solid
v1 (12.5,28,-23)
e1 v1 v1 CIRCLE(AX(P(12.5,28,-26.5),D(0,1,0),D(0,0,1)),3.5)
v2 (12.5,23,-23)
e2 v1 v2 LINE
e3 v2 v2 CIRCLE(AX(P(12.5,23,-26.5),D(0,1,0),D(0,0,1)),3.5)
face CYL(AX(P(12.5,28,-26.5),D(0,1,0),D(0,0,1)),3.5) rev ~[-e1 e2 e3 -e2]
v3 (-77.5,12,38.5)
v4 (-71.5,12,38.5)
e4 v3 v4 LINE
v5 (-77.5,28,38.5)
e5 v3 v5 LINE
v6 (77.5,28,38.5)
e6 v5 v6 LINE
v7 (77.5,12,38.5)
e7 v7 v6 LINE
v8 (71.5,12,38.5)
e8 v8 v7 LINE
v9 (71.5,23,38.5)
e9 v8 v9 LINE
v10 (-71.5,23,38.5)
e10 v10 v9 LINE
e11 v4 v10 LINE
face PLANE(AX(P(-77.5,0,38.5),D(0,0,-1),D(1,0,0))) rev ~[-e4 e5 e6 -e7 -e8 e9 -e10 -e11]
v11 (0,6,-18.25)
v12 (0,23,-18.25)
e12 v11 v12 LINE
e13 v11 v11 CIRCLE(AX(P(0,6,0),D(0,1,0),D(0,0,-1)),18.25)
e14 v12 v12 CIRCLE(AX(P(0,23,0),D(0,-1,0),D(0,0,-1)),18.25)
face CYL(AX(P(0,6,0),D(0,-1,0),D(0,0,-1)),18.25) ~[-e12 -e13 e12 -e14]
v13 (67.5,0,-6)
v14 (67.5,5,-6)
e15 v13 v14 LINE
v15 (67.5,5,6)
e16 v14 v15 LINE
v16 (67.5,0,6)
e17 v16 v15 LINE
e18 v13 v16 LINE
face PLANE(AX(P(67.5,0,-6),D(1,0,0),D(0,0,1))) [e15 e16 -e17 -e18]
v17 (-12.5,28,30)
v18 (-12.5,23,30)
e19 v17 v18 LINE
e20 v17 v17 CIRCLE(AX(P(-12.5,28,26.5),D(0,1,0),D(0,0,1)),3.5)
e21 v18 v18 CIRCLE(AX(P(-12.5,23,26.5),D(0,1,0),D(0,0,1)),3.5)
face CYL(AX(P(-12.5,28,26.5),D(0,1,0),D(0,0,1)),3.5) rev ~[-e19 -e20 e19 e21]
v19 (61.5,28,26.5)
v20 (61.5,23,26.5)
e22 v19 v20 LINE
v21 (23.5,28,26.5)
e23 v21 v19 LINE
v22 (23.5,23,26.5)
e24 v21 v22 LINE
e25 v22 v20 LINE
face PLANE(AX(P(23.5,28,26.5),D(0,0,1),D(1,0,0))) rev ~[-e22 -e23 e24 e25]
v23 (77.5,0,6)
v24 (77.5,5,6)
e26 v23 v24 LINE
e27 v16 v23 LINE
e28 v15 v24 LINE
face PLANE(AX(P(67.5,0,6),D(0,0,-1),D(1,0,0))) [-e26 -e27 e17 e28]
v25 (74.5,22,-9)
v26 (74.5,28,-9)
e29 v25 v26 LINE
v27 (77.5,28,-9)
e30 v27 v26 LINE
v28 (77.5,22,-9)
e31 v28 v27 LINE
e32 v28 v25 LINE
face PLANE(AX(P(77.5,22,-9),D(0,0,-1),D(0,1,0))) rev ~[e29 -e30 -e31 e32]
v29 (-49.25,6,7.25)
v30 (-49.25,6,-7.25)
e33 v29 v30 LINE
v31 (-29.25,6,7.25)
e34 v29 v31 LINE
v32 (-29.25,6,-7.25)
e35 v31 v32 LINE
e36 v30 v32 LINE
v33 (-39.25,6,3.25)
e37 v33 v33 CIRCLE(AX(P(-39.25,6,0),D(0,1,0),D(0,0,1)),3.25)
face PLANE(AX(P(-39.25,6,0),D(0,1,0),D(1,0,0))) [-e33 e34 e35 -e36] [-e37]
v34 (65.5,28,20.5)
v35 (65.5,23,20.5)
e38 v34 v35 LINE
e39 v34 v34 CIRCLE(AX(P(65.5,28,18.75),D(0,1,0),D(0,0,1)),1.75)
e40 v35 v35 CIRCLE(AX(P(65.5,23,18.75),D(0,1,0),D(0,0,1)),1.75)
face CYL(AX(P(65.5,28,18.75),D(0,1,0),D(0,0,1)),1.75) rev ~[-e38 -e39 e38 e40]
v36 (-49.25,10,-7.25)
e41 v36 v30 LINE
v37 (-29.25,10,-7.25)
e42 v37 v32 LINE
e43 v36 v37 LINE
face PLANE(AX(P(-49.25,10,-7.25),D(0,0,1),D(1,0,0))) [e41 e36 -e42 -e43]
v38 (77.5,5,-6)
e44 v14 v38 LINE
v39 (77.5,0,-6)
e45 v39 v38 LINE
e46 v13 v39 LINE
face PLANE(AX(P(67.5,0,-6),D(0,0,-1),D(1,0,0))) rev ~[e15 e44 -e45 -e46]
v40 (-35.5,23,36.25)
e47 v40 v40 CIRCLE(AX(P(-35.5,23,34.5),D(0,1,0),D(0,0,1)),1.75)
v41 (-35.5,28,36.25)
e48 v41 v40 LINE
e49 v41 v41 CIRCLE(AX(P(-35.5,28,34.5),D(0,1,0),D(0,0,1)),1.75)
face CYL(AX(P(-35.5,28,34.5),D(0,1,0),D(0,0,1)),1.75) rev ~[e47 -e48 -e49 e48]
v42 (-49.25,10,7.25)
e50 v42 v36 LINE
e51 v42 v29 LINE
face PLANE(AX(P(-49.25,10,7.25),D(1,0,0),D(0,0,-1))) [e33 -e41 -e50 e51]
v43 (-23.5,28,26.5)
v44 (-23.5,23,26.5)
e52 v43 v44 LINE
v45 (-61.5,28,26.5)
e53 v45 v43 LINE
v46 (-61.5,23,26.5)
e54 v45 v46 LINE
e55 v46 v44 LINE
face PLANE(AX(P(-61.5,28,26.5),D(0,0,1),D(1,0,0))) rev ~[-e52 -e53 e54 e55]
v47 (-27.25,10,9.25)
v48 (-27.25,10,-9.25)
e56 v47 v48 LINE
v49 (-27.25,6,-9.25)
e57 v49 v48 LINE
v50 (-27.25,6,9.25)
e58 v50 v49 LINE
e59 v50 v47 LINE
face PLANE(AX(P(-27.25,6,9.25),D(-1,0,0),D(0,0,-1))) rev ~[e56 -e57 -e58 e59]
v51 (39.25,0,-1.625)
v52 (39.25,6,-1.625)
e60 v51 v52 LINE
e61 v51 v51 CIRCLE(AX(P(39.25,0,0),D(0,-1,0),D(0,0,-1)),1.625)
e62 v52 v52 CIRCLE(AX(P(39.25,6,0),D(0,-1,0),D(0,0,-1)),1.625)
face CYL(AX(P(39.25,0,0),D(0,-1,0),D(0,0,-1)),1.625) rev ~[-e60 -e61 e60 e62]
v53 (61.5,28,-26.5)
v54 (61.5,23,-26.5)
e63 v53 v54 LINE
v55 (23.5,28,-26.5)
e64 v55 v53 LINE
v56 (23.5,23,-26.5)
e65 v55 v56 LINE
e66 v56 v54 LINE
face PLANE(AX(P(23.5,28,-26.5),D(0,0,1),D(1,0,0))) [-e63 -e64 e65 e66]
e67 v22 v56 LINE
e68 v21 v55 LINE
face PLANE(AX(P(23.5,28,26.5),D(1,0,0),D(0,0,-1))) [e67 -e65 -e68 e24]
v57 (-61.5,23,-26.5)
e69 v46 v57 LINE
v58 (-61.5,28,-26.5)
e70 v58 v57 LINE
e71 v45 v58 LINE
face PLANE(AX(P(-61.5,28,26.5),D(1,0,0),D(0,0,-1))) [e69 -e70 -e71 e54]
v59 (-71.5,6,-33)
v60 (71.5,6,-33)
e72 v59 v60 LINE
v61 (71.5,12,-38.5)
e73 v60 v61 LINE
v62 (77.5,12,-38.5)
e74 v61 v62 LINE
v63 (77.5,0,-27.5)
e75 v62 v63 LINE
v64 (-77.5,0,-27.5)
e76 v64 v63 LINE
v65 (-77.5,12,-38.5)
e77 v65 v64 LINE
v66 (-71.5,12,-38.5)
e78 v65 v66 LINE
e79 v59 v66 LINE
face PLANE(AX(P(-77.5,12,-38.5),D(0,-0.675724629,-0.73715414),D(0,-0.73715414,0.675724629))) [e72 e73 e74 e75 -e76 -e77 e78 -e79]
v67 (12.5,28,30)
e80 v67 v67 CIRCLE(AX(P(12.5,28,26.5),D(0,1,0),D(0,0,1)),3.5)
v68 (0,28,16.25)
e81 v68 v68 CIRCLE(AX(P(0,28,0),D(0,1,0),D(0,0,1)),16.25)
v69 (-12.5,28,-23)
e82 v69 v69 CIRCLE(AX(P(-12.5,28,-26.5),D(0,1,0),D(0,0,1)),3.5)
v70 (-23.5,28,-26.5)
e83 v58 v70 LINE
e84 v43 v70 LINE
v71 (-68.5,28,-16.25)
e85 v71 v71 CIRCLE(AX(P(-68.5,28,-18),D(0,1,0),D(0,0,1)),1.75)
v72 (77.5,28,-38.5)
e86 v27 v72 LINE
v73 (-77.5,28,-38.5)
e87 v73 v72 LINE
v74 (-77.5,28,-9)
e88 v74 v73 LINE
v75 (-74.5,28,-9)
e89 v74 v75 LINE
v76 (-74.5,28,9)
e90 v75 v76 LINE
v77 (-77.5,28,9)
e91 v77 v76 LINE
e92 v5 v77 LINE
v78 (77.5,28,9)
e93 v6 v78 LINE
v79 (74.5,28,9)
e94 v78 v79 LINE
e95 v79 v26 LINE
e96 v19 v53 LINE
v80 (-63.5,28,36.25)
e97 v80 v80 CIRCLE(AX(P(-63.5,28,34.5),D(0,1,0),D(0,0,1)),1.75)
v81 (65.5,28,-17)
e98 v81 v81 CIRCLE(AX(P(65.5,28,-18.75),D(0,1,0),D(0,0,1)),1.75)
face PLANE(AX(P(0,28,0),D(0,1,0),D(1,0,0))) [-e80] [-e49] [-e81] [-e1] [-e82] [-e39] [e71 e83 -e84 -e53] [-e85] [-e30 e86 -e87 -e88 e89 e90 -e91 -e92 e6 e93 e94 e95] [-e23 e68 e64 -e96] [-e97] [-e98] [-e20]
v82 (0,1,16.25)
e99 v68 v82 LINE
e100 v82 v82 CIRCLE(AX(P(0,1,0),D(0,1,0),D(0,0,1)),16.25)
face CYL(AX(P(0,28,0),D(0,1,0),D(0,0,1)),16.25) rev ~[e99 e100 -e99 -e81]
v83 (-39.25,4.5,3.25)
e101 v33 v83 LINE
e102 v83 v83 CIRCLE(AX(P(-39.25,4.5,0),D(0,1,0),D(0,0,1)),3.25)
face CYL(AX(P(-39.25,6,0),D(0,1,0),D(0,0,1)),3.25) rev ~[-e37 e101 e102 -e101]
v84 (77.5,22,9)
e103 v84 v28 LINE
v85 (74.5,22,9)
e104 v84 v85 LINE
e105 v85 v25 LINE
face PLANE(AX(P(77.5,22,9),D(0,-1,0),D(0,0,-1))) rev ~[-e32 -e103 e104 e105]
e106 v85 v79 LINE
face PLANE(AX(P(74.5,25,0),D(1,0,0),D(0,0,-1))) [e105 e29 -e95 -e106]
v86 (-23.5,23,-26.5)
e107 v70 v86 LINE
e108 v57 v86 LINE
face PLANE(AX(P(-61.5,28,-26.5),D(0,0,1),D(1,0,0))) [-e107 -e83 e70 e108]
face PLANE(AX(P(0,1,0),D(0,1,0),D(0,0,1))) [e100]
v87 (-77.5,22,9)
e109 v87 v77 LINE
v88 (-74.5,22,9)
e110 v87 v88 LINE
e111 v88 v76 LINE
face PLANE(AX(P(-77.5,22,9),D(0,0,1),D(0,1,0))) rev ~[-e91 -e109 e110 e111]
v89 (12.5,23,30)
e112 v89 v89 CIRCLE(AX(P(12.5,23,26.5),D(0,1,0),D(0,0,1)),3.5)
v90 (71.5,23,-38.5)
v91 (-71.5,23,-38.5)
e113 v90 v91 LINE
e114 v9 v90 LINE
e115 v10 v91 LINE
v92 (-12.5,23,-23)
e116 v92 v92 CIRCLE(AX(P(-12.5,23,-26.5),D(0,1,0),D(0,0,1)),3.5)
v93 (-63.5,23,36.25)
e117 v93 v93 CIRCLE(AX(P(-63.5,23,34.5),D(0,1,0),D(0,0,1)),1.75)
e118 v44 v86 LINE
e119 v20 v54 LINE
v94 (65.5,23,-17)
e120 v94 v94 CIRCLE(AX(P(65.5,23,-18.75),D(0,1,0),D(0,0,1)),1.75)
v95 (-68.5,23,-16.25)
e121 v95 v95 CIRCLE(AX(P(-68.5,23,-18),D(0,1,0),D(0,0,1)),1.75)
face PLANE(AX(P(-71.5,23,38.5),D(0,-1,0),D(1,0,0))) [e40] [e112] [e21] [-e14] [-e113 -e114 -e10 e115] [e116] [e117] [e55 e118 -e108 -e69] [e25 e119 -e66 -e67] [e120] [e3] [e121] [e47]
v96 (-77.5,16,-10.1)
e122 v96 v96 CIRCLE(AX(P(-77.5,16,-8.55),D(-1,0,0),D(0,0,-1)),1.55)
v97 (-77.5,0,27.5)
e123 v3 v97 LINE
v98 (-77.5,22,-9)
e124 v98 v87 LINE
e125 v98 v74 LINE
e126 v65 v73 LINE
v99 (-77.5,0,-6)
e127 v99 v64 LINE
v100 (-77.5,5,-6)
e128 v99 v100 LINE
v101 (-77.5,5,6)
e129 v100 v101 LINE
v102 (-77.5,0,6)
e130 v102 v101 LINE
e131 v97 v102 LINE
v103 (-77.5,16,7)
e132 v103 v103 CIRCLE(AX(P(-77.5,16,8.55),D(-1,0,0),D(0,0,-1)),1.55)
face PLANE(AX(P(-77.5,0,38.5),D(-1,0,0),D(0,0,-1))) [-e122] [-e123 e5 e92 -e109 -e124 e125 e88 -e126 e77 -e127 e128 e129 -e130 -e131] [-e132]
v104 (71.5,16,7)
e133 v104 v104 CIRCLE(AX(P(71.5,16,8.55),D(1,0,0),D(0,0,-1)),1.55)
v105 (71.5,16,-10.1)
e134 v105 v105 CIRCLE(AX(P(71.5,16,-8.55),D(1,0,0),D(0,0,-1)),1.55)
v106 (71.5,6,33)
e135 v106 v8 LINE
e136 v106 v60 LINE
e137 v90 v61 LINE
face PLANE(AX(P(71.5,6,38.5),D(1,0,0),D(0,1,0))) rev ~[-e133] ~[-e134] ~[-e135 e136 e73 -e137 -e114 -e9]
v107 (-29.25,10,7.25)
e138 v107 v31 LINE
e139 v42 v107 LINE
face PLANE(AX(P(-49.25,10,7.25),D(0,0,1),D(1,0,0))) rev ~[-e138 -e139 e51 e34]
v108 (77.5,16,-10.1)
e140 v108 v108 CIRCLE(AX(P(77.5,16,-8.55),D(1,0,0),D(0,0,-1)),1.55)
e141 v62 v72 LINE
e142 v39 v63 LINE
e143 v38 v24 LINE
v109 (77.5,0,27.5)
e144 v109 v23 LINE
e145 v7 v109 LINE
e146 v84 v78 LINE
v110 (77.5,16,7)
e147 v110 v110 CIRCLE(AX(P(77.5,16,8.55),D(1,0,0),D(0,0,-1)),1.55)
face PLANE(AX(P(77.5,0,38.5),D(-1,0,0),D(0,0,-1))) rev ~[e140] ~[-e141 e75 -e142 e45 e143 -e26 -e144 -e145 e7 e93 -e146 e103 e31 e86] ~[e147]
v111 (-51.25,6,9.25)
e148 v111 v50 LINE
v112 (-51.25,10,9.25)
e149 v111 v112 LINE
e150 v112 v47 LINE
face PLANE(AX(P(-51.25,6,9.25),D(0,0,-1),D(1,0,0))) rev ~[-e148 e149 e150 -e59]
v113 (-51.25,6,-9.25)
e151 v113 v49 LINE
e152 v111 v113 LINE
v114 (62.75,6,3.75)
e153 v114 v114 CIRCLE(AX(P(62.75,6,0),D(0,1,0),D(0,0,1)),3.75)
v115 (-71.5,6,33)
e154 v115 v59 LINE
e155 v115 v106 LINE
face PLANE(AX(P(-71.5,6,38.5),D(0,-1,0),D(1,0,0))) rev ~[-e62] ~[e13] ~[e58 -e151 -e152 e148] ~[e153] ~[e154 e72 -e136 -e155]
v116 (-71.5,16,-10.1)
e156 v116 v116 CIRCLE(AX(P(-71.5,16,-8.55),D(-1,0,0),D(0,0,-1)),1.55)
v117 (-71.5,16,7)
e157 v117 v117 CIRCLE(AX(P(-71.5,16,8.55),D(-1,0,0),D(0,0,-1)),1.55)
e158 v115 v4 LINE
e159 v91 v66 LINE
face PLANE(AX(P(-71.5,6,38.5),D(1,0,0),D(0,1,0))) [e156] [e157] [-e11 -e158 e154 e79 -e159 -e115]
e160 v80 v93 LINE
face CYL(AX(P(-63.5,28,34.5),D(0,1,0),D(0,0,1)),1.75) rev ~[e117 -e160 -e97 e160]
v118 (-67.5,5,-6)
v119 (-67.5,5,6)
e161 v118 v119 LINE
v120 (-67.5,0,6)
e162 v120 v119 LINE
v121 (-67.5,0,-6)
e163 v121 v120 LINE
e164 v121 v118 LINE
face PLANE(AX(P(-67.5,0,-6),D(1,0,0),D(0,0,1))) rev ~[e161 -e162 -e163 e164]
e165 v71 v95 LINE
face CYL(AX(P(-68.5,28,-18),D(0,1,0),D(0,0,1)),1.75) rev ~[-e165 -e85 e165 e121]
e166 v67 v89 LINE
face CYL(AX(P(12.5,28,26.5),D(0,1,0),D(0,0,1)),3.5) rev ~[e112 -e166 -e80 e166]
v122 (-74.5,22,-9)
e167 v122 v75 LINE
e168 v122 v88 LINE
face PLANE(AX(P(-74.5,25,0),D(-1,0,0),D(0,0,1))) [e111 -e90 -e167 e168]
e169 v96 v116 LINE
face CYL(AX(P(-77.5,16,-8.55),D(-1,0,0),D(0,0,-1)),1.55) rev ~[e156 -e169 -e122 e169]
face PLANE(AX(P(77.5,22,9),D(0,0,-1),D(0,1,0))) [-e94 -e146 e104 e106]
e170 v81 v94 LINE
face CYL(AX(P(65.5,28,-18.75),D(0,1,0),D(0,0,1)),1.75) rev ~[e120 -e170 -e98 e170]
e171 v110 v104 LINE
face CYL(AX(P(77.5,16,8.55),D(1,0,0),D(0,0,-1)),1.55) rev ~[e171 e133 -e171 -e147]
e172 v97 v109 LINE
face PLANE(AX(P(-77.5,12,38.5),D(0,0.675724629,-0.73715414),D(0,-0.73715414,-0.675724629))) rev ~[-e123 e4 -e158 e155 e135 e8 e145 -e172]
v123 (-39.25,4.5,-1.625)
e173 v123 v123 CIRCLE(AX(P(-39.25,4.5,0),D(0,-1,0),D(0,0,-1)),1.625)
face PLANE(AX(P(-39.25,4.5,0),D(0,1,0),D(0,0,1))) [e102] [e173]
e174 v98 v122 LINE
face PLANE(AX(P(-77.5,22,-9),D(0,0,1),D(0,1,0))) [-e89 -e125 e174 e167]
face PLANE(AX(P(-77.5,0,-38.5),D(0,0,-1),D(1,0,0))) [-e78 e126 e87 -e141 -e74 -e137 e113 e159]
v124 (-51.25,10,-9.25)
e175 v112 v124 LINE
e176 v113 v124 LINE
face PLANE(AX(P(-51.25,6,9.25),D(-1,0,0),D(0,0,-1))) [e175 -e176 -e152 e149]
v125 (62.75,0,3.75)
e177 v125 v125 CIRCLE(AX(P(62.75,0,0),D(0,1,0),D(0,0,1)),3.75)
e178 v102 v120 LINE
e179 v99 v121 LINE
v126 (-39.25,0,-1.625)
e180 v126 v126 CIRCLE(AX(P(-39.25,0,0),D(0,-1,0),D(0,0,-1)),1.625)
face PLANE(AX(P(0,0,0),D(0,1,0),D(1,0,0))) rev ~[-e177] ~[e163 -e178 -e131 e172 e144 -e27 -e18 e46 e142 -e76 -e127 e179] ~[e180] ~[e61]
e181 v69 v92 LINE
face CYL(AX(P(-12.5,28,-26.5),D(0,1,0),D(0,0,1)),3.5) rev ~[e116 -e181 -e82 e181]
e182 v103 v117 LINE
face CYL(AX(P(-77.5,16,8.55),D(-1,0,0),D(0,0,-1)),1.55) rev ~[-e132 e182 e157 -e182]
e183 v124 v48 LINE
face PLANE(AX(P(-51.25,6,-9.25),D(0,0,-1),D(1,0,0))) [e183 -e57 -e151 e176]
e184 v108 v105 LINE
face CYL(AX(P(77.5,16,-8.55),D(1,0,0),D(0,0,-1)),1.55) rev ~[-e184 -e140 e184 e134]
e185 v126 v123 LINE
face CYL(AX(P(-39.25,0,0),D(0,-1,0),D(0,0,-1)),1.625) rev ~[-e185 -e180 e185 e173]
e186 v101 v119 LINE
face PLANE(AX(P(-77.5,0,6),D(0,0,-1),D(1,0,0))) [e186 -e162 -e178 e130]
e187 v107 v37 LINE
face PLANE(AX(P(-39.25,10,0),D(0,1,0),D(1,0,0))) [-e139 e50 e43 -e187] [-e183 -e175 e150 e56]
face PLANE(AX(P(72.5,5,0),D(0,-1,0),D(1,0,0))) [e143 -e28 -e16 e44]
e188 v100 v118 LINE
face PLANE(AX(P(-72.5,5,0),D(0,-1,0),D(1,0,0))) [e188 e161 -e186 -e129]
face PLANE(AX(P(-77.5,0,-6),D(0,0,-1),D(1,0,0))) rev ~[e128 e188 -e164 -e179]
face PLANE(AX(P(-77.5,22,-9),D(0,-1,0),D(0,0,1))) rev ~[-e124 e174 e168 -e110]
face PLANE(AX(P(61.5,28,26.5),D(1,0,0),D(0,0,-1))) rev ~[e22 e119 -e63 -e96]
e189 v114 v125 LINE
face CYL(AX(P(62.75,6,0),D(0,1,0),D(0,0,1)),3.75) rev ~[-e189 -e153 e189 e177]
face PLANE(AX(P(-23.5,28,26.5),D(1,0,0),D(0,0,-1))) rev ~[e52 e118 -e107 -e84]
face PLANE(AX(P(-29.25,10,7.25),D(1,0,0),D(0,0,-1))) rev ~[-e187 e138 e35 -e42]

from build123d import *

# Parameters (mm, degrees)
SKETCH3_W           = 155
SKETCH3_H           = 77
BOSS_EXTRUDE1_DEPTH = 28
SKETCH5_W           = 143
SKETCH5_H           = 17
CUT_EXTRUDE1_DEPTH  = 113.77965242
BOSS_EXTRUDE3_REACH = 91.289
SKETCH12_R          = 18.25
SKETCH15_R          = 16.25
CUT_EXTRUDE4_DEPTH  = 27
CUT_EXTRUDE5_REACH  = 92.953
SKETCH16_R          = 3.5
SKETCH16_W          = 38
SKETCH16_H          = 53
SKETCH19_W          = 10
SKETCH19_H          = 12
CUT_EXTRUDE6_DEPTH  = 5
CUT_EXTRUDE7_DEPTH  = 163.145767752
CUT_EXTRUDE8_REACH  = 92.953
SKETCH23_R          = 1.625
SKETCH28_W          = 24
SKETCH28_H          = 18.5
BOSS_EXTRUDE4_DEPTH = 4
SKETCH29_W          = 20
SKETCH29_H          = 14.5
CUT_EXTRUDE11_DEPTH = 4
SKETCH30_R          = 3.25
CUT_EXTRUDE12_DEPTH = 1.5
CUT_EXTRUDE13_REACH = 164.146
SKETCH31_R          = 1.55
CUT_EXTRUDE14_REACH = 164.146
SKETCH32_R          = 1.55
SKETCH33_W          = 18
SKETCH33_H          = 6
CUT_EXTRUDE15_DEPTH = 3
SKETCH34_W          = 18
SKETCH34_H          = 6
CUT_EXTRUDE16_DEPTH = 3
SKETCH35_R          = 3.75
CUT_EXTRUDE17_DEPTH = 90.288857088
CUT_EXTRUDE18_REACH = 92.953
SKETCH36_R          = 1.75


with BuildPart() as part:
    # Sketch3 → Boss-Extrude1 (new body)
    with BuildSketch(Plane(origin=(0, 0, 0), x_dir=(1, 0, 0), z_dir=(0, 1, 0))):
        Rectangle(SKETCH3_W, SKETCH3_H)
    extrude(amount=BOSS_EXTRUDE1_DEPTH)

    # Sketch5 → Cut-Extrude1 (cut, through all)
    with BuildSketch(Plane.XY.offset(38.5)):
        with Locations((0, 14.5)):
            Rectangle(SKETCH5_W, SKETCH5_H)
    extrude(amount=-CUT_EXTRUDE1_DEPTH, mode=Mode.SUBTRACT)

    # Sketch12 → Boss-Extrude3 (add, up to next)
    with BuildSketch(Plane(origin=(0, 6, 0), x_dir=(1, 0, 0), z_dir=(0, 1, 0)), mode=Mode.PRIVATE) as boss_extrude3_sk1:
        with Locations(Location((0, 0, 0), (0, 0, 90))):
            Circle(SKETCH12_R)
    boss_extrude3_tool1 = extrude(boss_extrude3_sk1.sketch, amount=BOSS_EXTRUDE3_REACH, mode=Mode.PRIVATE) - part.part
    add(boss_extrude3_tool1.solids().sort_by_distance((0, 6, 0))[0])

    # Sketch15 → Cut-Extrude4 (cut)
    with BuildSketch(Plane(origin=(0, 28, 0), x_dir=(1, 0, 0), z_dir=(0, 1, 0))):
        with Locations(Location((0, 0, 0), (0, 0, 270))):
            Circle(SKETCH15_R)
    extrude(amount=-CUT_EXTRUDE4_DEPTH, mode=Mode.SUBTRACT)

    # Sketch16 → Cut-Extrude5 (cut, up to next)
    with BuildSketch(Plane(origin=(0, 28, 0), x_dir=(1, 0, 0), z_dir=(0, 1, 0)), mode=Mode.PRIVATE) as cut_extrude5_sk1:
        with Locations(Location((-12.5, 26.5, 0), (0, 0, 270))):
            Circle(SKETCH16_R)
    cut_extrude5_tool1 = extrude(cut_extrude5_sk1.sketch, amount=-CUT_EXTRUDE5_REACH, mode=Mode.PRIVATE) & part.part
    # Sketch16 → Cut-Extrude5 (cut, up to next)
    with BuildSketch(Plane(origin=(0, 28, 0), x_dir=(1, 0, 0), z_dir=(0, 1, 0)), mode=Mode.PRIVATE) as cut_extrude5_sk2:
        with Locations(Location((12.5, 26.5, 0), (0, 0, 270))):
            Circle(SKETCH16_R)
    cut_extrude5_tool2 = extrude(cut_extrude5_sk2.sketch, amount=-CUT_EXTRUDE5_REACH, mode=Mode.PRIVATE) & part.part
    # Sketch16 → Cut-Extrude5 (cut, up to next)
    with BuildSketch(Plane(origin=(0, 28, 0), x_dir=(1, 0, 0), z_dir=(0, 1, 0)), mode=Mode.PRIVATE) as cut_extrude5_sk3:
        with Locations(Location((12.5, -26.5, 0), (0, 0, 270))):
            Circle(SKETCH16_R)
    cut_extrude5_tool3 = extrude(cut_extrude5_sk3.sketch, amount=-CUT_EXTRUDE5_REACH, mode=Mode.PRIVATE) & part.part
    # Sketch16 → Cut-Extrude5 (cut, up to next)
    with BuildSketch(Plane(origin=(0, 28, 0), x_dir=(1, 0, 0), z_dir=(0, 1, 0)), mode=Mode.PRIVATE) as cut_extrude5_sk4:
        with Locations(Location((-12.5, -26.5, 0), (0, 0, 270))):
            Circle(SKETCH16_R)
    cut_extrude5_tool4 = extrude(cut_extrude5_sk4.sketch, amount=-CUT_EXTRUDE5_REACH, mode=Mode.PRIVATE) & part.part
    # Sketch16 → Cut-Extrude5 (cut, up to next)
    with BuildSketch(Plane(origin=(0, 28, 0), x_dir=(1, 0, 0), z_dir=(0, 1, 0)), mode=Mode.PRIVATE) as cut_extrude5_sk5:
        with Locations((-42.5, 0)):
            Rectangle(SKETCH16_W, SKETCH16_H)
    cut_extrude5_tool5 = extrude(cut_extrude5_sk5.sketch, amount=-CUT_EXTRUDE5_REACH, mode=Mode.PRIVATE) & part.part
    # Sketch16 → Cut-Extrude5 (cut, up to next)
    with BuildSketch(Plane(origin=(0, 28, 0), x_dir=(1, 0, 0), z_dir=(0, 1, 0)), mode=Mode.PRIVATE) as cut_extrude5_sk6:
        with Locations((42.5, 0)):
            Rectangle(SKETCH16_W, SKETCH16_H)
    cut_extrude5_tool6 = extrude(cut_extrude5_sk6.sketch, amount=-CUT_EXTRUDE5_REACH, mode=Mode.PRIVATE) & part.part
    add(cut_extrude5_tool1.solids().sort_by_distance((-12.5, 28, -26.5))[0], mode=Mode.SUBTRACT)
    add(cut_extrude5_tool2.solids().sort_by_distance((12.5, 28, -26.5))[0], mode=Mode.SUBTRACT)
    add(cut_extrude5_tool3.solids().sort_by_distance((12.5, 28, 26.5))[0], mode=Mode.SUBTRACT)
    add(cut_extrude5_tool4.solids().sort_by_distance((-12.5, 28, 26.5))[0], mode=Mode.SUBTRACT)
    add(cut_extrude5_tool5.solids().sort_by_distance((-42.5, 28, 0))[0], mode=Mode.SUBTRACT)
    add(cut_extrude5_tool6.solids().sort_by_distance((42.5, 28, 0))[0], mode=Mode.SUBTRACT)

    # Sketch19 → Cut-Extrude6 (cut)
    with BuildSketch(Plane.XZ):
        with Locations((-72.5, 0)):
            Rectangle(SKETCH19_W, SKETCH19_H)
        with Locations((72.5, 0)):
            Rectangle(SKETCH19_W, SKETCH19_H)
    extrude(amount=-CUT_EXTRUDE6_DEPTH, mode=Mode.SUBTRACT)

    # Sketch22 → Cut-Extrude7 (cut, through all)
    with BuildSketch(Plane.ZY.offset(77.5)):
        Polygon((-38.5, 0), (-38.5, 12), (-27.5, 0), align=None)
        Polygon((38.5, 12), (27.5, 0), (38.5, 0), align=None)
    extrude(amount=-CUT_EXTRUDE7_DEPTH, mode=Mode.SUBTRACT)

    # Sketch23 → Cut-Extrude8 (cut, up to next)
    with BuildSketch(Plane.XZ, mode=Mode.PRIVATE) as cut_extrude8_sk1:
        with Locations(Location((39.25, 0, 0), (0, 0, 270))):
            Circle(SKETCH23_R)
    cut_extrude8_tool1 = extrude(cut_extrude8_sk1.sketch, amount=-CUT_EXTRUDE8_REACH, mode=Mode.PRIVATE) & part.part
    # Sketch23 → Cut-Extrude8 (cut, up to next)
    with BuildSketch(Plane.XZ, mode=Mode.PRIVATE) as cut_extrude8_sk2:
        with Locations(Location((-39.25, 0, 0), (0, 0, 270))):
            Circle(SKETCH23_R)
    cut_extrude8_tool2 = extrude(cut_extrude8_sk2.sketch, amount=-CUT_EXTRUDE8_REACH, mode=Mode.PRIVATE) & part.part
    add(cut_extrude8_tool1.solids().sort_by_distance((39.25, 0, 0))[0], mode=Mode.SUBTRACT)
    add(cut_extrude8_tool2.solids().sort_by_distance((-39.25, 0, 0))[0], mode=Mode.SUBTRACT)

    # Sketch28 → Boss-Extrude4 (add)
    with BuildSketch(Plane(origin=(0, 6, 0), x_dir=(1, 0, 0), z_dir=(0, 1, 0))):
        with Locations((-39.25, 0)):
            Rectangle(SKETCH28_W, SKETCH28_H)
    extrude(amount=BOSS_EXTRUDE4_DEPTH)

    # Sketch29 → Cut-Extrude11 (cut)
    with BuildSketch(Plane(origin=(0, 10, 0), x_dir=(1, 0, 0), z_dir=(0, 1, 0))):
        with Locations((-39.25, 0)):
            Rectangle(SKETCH29_W, SKETCH29_H)
    extrude(amount=-CUT_EXTRUDE11_DEPTH, mode=Mode.SUBTRACT)

    # Sketch30 → Cut-Extrude12 (cut)
    with BuildSketch(Plane(origin=(0, 6, 0), x_dir=(1, 0, 0), z_dir=(0, 1, 0))):
        with Locations(Location((-39.25, 0, 0), (0, 0, 270))):
            Circle(SKETCH30_R)
    extrude(amount=-CUT_EXTRUDE12_DEPTH, mode=Mode.SUBTRACT)

    # Sketch31 → Cut-Extrude13 (cut, up to next)
    with BuildSketch(Plane(origin=(77.5, 0, 0), x_dir=(0, 0, -1), z_dir=(1, 0, 0)), mode=Mode.PRIVATE) as cut_extrude13_sk1:
        with Locations((-8.55, 16)):
            Circle(SKETCH31_R)
    cut_extrude13_tool1 = extrude(cut_extrude13_sk1.sketch, amount=-CUT_EXTRUDE13_REACH, mode=Mode.PRIVATE) & part.part
    # Sketch31 → Cut-Extrude13 (cut, up to next)
    with BuildSketch(Plane(origin=(77.5, 0, 0), x_dir=(0, 0, -1), z_dir=(1, 0, 0)), mode=Mode.PRIVATE) as cut_extrude13_sk2:
        with Locations((8.55, 16)):
            Circle(SKETCH31_R)
    cut_extrude13_tool2 = extrude(cut_extrude13_sk2.sketch, amount=-CUT_EXTRUDE13_REACH, mode=Mode.PRIVATE) & part.part
    add(cut_extrude13_tool1.solids().sort_by_distance((77.5, 16, 8.55))[0], mode=Mode.SUBTRACT)
    add(cut_extrude13_tool2.solids().sort_by_distance((77.5, 16, -8.55))[0], mode=Mode.SUBTRACT)

    # Sketch32 → Cut-Extrude14 (cut, up to next)
    with BuildSketch(Plane.ZY.offset(77.5), mode=Mode.PRIVATE) as cut_extrude14_sk1:
        with Locations(Location((-8.55, 16, 0), (0, 0, 180))):
            Circle(SKETCH32_R)
    cut_extrude14_tool1 = extrude(cut_extrude14_sk1.sketch, amount=-CUT_EXTRUDE14_REACH, mode=Mode.PRIVATE) & part.part
    # Sketch32 → Cut-Extrude14 (cut, up to next)
    with BuildSketch(Plane.ZY.offset(77.5), mode=Mode.PRIVATE) as cut_extrude14_sk2:
        with Locations(Location((8.55, 16, 0), (0, 0, 180))):
            Circle(SKETCH32_R)
    cut_extrude14_tool2 = extrude(cut_extrude14_sk2.sketch, amount=-CUT_EXTRUDE14_REACH, mode=Mode.PRIVATE) & part.part
    add(cut_extrude14_tool1.solids().sort_by_distance((-77.5, 16, -8.55))[0], mode=Mode.SUBTRACT)
    add(cut_extrude14_tool2.solids().sort_by_distance((-77.5, 16, 8.55))[0], mode=Mode.SUBTRACT)

    # Sketch33 → Cut-Extrude15 (cut)
    with BuildSketch(Plane.ZY.offset(77.5)):
        with Locations((0, 25)):
            Rectangle(SKETCH33_W, SKETCH33_H)
    extrude(amount=-CUT_EXTRUDE15_DEPTH, mode=Mode.SUBTRACT)

    # Sketch34 → Cut-Extrude16 (cut)
    with BuildSketch(Plane(origin=(77.5, 0, 0), x_dir=(0, 0, -1), z_dir=(1, 0, 0))):
        with Locations((0, 25)):
            Rectangle(SKETCH34_W, SKETCH34_H)
    extrude(amount=-CUT_EXTRUDE16_DEPTH, mode=Mode.SUBTRACT)

    # Sketch35 → Cut-Extrude17 (cut, through all)
    with BuildSketch(Plane(origin=(0, 6, 0), x_dir=(1, 0, 0), z_dir=(0, 1, 0))):
        with Locations(Location((62.75, 0, 0), (0, 0, 270))):
            Circle(SKETCH35_R)
    extrude(amount=-CUT_EXTRUDE17_DEPTH, mode=Mode.SUBTRACT)

    # Sketch36 → Cut-Extrude18 (cut, up to next)
    with BuildSketch(Plane(origin=(0, 28, 0), x_dir=(1, 0, 0), z_dir=(0, 1, 0)), mode=Mode.PRIVATE) as cut_extrude18_sk1:
        with Locations(Location((-63.5, -34.5, 0), (0, 0, 270))):
            Circle(SKETCH36_R)
    cut_extrude18_tool1 = extrude(cut_extrude18_sk1.sketch, amount=-CUT_EXTRUDE18_REACH, mode=Mode.PRIVATE) & part.part
    # Sketch36 → Cut-Extrude18 (cut, up to next)
    with BuildSketch(Plane(origin=(0, 28, 0), x_dir=(1, 0, 0), z_dir=(0, 1, 0)), mode=Mode.PRIVATE) as cut_extrude18_sk2:
        with Locations(Location((-68.5, 18, 0), (0, 0, 270))):
            Circle(SKETCH36_R)
    cut_extrude18_tool2 = extrude(cut_extrude18_sk2.sketch, amount=-CUT_EXTRUDE18_REACH, mode=Mode.PRIVATE) & part.part
    # Sketch36 → Cut-Extrude18 (cut, up to next)
    with BuildSketch(Plane(origin=(0, 28, 0), x_dir=(1, 0, 0), z_dir=(0, 1, 0)), mode=Mode.PRIVATE) as cut_extrude18_sk3:
        with Locations(Location((-35.5, -34.5, 0), (0, 0, 270))):
            Circle(SKETCH36_R)
    cut_extrude18_tool3 = extrude(cut_extrude18_sk3.sketch, amount=-CUT_EXTRUDE18_REACH, mode=Mode.PRIVATE) & part.part
    # Sketch36 → Cut-Extrude18 (cut, up to next)
    with BuildSketch(Plane(origin=(0, 28, 0), x_dir=(1, 0, 0), z_dir=(0, 1, 0)), mode=Mode.PRIVATE) as cut_extrude18_sk4:
        with Locations(Location((65.5, -18.75, 0), (0, 0, 270))):
            Circle(SKETCH36_R)
    cut_extrude18_tool4 = extrude(cut_extrude18_sk4.sketch, amount=-CUT_EXTRUDE18_REACH, mode=Mode.PRIVATE) & part.part
    # Sketch36 → Cut-Extrude18 (cut, up to next)
    with BuildSketch(Plane(origin=(0, 28, 0), x_dir=(1, 0, 0), z_dir=(0, 1, 0)), mode=Mode.PRIVATE) as cut_extrude18_sk5:
        with Locations(Location((65.5, 18.75, 0), (0, 0, 270))):
            Circle(SKETCH36_R)
    cut_extrude18_tool5 = extrude(cut_extrude18_sk5.sketch, amount=-CUT_EXTRUDE18_REACH, mode=Mode.PRIVATE) & part.part
    add(cut_extrude18_tool1.solids().sort_by_distance((-63.5, 28, 34.5))[0], mode=Mode.SUBTRACT)
    add(cut_extrude18_tool2.solids().sort_by_distance((-68.5, 28, -18))[0], mode=Mode.SUBTRACT)
    add(cut_extrude18_tool3.solids().sort_by_distance((-35.5, 28, 34.5))[0], mode=Mode.SUBTRACT)
    add(cut_extrude18_tool4.solids().sort_by_distance((65.5, 28, 18.75))[0], mode=Mode.SUBTRACT)
    add(cut_extrude18_tool5.solids().sort_by_distance((65.5, 28, -18.75))[0], mode=Mode.SUBTRACT)


solid = part.part
